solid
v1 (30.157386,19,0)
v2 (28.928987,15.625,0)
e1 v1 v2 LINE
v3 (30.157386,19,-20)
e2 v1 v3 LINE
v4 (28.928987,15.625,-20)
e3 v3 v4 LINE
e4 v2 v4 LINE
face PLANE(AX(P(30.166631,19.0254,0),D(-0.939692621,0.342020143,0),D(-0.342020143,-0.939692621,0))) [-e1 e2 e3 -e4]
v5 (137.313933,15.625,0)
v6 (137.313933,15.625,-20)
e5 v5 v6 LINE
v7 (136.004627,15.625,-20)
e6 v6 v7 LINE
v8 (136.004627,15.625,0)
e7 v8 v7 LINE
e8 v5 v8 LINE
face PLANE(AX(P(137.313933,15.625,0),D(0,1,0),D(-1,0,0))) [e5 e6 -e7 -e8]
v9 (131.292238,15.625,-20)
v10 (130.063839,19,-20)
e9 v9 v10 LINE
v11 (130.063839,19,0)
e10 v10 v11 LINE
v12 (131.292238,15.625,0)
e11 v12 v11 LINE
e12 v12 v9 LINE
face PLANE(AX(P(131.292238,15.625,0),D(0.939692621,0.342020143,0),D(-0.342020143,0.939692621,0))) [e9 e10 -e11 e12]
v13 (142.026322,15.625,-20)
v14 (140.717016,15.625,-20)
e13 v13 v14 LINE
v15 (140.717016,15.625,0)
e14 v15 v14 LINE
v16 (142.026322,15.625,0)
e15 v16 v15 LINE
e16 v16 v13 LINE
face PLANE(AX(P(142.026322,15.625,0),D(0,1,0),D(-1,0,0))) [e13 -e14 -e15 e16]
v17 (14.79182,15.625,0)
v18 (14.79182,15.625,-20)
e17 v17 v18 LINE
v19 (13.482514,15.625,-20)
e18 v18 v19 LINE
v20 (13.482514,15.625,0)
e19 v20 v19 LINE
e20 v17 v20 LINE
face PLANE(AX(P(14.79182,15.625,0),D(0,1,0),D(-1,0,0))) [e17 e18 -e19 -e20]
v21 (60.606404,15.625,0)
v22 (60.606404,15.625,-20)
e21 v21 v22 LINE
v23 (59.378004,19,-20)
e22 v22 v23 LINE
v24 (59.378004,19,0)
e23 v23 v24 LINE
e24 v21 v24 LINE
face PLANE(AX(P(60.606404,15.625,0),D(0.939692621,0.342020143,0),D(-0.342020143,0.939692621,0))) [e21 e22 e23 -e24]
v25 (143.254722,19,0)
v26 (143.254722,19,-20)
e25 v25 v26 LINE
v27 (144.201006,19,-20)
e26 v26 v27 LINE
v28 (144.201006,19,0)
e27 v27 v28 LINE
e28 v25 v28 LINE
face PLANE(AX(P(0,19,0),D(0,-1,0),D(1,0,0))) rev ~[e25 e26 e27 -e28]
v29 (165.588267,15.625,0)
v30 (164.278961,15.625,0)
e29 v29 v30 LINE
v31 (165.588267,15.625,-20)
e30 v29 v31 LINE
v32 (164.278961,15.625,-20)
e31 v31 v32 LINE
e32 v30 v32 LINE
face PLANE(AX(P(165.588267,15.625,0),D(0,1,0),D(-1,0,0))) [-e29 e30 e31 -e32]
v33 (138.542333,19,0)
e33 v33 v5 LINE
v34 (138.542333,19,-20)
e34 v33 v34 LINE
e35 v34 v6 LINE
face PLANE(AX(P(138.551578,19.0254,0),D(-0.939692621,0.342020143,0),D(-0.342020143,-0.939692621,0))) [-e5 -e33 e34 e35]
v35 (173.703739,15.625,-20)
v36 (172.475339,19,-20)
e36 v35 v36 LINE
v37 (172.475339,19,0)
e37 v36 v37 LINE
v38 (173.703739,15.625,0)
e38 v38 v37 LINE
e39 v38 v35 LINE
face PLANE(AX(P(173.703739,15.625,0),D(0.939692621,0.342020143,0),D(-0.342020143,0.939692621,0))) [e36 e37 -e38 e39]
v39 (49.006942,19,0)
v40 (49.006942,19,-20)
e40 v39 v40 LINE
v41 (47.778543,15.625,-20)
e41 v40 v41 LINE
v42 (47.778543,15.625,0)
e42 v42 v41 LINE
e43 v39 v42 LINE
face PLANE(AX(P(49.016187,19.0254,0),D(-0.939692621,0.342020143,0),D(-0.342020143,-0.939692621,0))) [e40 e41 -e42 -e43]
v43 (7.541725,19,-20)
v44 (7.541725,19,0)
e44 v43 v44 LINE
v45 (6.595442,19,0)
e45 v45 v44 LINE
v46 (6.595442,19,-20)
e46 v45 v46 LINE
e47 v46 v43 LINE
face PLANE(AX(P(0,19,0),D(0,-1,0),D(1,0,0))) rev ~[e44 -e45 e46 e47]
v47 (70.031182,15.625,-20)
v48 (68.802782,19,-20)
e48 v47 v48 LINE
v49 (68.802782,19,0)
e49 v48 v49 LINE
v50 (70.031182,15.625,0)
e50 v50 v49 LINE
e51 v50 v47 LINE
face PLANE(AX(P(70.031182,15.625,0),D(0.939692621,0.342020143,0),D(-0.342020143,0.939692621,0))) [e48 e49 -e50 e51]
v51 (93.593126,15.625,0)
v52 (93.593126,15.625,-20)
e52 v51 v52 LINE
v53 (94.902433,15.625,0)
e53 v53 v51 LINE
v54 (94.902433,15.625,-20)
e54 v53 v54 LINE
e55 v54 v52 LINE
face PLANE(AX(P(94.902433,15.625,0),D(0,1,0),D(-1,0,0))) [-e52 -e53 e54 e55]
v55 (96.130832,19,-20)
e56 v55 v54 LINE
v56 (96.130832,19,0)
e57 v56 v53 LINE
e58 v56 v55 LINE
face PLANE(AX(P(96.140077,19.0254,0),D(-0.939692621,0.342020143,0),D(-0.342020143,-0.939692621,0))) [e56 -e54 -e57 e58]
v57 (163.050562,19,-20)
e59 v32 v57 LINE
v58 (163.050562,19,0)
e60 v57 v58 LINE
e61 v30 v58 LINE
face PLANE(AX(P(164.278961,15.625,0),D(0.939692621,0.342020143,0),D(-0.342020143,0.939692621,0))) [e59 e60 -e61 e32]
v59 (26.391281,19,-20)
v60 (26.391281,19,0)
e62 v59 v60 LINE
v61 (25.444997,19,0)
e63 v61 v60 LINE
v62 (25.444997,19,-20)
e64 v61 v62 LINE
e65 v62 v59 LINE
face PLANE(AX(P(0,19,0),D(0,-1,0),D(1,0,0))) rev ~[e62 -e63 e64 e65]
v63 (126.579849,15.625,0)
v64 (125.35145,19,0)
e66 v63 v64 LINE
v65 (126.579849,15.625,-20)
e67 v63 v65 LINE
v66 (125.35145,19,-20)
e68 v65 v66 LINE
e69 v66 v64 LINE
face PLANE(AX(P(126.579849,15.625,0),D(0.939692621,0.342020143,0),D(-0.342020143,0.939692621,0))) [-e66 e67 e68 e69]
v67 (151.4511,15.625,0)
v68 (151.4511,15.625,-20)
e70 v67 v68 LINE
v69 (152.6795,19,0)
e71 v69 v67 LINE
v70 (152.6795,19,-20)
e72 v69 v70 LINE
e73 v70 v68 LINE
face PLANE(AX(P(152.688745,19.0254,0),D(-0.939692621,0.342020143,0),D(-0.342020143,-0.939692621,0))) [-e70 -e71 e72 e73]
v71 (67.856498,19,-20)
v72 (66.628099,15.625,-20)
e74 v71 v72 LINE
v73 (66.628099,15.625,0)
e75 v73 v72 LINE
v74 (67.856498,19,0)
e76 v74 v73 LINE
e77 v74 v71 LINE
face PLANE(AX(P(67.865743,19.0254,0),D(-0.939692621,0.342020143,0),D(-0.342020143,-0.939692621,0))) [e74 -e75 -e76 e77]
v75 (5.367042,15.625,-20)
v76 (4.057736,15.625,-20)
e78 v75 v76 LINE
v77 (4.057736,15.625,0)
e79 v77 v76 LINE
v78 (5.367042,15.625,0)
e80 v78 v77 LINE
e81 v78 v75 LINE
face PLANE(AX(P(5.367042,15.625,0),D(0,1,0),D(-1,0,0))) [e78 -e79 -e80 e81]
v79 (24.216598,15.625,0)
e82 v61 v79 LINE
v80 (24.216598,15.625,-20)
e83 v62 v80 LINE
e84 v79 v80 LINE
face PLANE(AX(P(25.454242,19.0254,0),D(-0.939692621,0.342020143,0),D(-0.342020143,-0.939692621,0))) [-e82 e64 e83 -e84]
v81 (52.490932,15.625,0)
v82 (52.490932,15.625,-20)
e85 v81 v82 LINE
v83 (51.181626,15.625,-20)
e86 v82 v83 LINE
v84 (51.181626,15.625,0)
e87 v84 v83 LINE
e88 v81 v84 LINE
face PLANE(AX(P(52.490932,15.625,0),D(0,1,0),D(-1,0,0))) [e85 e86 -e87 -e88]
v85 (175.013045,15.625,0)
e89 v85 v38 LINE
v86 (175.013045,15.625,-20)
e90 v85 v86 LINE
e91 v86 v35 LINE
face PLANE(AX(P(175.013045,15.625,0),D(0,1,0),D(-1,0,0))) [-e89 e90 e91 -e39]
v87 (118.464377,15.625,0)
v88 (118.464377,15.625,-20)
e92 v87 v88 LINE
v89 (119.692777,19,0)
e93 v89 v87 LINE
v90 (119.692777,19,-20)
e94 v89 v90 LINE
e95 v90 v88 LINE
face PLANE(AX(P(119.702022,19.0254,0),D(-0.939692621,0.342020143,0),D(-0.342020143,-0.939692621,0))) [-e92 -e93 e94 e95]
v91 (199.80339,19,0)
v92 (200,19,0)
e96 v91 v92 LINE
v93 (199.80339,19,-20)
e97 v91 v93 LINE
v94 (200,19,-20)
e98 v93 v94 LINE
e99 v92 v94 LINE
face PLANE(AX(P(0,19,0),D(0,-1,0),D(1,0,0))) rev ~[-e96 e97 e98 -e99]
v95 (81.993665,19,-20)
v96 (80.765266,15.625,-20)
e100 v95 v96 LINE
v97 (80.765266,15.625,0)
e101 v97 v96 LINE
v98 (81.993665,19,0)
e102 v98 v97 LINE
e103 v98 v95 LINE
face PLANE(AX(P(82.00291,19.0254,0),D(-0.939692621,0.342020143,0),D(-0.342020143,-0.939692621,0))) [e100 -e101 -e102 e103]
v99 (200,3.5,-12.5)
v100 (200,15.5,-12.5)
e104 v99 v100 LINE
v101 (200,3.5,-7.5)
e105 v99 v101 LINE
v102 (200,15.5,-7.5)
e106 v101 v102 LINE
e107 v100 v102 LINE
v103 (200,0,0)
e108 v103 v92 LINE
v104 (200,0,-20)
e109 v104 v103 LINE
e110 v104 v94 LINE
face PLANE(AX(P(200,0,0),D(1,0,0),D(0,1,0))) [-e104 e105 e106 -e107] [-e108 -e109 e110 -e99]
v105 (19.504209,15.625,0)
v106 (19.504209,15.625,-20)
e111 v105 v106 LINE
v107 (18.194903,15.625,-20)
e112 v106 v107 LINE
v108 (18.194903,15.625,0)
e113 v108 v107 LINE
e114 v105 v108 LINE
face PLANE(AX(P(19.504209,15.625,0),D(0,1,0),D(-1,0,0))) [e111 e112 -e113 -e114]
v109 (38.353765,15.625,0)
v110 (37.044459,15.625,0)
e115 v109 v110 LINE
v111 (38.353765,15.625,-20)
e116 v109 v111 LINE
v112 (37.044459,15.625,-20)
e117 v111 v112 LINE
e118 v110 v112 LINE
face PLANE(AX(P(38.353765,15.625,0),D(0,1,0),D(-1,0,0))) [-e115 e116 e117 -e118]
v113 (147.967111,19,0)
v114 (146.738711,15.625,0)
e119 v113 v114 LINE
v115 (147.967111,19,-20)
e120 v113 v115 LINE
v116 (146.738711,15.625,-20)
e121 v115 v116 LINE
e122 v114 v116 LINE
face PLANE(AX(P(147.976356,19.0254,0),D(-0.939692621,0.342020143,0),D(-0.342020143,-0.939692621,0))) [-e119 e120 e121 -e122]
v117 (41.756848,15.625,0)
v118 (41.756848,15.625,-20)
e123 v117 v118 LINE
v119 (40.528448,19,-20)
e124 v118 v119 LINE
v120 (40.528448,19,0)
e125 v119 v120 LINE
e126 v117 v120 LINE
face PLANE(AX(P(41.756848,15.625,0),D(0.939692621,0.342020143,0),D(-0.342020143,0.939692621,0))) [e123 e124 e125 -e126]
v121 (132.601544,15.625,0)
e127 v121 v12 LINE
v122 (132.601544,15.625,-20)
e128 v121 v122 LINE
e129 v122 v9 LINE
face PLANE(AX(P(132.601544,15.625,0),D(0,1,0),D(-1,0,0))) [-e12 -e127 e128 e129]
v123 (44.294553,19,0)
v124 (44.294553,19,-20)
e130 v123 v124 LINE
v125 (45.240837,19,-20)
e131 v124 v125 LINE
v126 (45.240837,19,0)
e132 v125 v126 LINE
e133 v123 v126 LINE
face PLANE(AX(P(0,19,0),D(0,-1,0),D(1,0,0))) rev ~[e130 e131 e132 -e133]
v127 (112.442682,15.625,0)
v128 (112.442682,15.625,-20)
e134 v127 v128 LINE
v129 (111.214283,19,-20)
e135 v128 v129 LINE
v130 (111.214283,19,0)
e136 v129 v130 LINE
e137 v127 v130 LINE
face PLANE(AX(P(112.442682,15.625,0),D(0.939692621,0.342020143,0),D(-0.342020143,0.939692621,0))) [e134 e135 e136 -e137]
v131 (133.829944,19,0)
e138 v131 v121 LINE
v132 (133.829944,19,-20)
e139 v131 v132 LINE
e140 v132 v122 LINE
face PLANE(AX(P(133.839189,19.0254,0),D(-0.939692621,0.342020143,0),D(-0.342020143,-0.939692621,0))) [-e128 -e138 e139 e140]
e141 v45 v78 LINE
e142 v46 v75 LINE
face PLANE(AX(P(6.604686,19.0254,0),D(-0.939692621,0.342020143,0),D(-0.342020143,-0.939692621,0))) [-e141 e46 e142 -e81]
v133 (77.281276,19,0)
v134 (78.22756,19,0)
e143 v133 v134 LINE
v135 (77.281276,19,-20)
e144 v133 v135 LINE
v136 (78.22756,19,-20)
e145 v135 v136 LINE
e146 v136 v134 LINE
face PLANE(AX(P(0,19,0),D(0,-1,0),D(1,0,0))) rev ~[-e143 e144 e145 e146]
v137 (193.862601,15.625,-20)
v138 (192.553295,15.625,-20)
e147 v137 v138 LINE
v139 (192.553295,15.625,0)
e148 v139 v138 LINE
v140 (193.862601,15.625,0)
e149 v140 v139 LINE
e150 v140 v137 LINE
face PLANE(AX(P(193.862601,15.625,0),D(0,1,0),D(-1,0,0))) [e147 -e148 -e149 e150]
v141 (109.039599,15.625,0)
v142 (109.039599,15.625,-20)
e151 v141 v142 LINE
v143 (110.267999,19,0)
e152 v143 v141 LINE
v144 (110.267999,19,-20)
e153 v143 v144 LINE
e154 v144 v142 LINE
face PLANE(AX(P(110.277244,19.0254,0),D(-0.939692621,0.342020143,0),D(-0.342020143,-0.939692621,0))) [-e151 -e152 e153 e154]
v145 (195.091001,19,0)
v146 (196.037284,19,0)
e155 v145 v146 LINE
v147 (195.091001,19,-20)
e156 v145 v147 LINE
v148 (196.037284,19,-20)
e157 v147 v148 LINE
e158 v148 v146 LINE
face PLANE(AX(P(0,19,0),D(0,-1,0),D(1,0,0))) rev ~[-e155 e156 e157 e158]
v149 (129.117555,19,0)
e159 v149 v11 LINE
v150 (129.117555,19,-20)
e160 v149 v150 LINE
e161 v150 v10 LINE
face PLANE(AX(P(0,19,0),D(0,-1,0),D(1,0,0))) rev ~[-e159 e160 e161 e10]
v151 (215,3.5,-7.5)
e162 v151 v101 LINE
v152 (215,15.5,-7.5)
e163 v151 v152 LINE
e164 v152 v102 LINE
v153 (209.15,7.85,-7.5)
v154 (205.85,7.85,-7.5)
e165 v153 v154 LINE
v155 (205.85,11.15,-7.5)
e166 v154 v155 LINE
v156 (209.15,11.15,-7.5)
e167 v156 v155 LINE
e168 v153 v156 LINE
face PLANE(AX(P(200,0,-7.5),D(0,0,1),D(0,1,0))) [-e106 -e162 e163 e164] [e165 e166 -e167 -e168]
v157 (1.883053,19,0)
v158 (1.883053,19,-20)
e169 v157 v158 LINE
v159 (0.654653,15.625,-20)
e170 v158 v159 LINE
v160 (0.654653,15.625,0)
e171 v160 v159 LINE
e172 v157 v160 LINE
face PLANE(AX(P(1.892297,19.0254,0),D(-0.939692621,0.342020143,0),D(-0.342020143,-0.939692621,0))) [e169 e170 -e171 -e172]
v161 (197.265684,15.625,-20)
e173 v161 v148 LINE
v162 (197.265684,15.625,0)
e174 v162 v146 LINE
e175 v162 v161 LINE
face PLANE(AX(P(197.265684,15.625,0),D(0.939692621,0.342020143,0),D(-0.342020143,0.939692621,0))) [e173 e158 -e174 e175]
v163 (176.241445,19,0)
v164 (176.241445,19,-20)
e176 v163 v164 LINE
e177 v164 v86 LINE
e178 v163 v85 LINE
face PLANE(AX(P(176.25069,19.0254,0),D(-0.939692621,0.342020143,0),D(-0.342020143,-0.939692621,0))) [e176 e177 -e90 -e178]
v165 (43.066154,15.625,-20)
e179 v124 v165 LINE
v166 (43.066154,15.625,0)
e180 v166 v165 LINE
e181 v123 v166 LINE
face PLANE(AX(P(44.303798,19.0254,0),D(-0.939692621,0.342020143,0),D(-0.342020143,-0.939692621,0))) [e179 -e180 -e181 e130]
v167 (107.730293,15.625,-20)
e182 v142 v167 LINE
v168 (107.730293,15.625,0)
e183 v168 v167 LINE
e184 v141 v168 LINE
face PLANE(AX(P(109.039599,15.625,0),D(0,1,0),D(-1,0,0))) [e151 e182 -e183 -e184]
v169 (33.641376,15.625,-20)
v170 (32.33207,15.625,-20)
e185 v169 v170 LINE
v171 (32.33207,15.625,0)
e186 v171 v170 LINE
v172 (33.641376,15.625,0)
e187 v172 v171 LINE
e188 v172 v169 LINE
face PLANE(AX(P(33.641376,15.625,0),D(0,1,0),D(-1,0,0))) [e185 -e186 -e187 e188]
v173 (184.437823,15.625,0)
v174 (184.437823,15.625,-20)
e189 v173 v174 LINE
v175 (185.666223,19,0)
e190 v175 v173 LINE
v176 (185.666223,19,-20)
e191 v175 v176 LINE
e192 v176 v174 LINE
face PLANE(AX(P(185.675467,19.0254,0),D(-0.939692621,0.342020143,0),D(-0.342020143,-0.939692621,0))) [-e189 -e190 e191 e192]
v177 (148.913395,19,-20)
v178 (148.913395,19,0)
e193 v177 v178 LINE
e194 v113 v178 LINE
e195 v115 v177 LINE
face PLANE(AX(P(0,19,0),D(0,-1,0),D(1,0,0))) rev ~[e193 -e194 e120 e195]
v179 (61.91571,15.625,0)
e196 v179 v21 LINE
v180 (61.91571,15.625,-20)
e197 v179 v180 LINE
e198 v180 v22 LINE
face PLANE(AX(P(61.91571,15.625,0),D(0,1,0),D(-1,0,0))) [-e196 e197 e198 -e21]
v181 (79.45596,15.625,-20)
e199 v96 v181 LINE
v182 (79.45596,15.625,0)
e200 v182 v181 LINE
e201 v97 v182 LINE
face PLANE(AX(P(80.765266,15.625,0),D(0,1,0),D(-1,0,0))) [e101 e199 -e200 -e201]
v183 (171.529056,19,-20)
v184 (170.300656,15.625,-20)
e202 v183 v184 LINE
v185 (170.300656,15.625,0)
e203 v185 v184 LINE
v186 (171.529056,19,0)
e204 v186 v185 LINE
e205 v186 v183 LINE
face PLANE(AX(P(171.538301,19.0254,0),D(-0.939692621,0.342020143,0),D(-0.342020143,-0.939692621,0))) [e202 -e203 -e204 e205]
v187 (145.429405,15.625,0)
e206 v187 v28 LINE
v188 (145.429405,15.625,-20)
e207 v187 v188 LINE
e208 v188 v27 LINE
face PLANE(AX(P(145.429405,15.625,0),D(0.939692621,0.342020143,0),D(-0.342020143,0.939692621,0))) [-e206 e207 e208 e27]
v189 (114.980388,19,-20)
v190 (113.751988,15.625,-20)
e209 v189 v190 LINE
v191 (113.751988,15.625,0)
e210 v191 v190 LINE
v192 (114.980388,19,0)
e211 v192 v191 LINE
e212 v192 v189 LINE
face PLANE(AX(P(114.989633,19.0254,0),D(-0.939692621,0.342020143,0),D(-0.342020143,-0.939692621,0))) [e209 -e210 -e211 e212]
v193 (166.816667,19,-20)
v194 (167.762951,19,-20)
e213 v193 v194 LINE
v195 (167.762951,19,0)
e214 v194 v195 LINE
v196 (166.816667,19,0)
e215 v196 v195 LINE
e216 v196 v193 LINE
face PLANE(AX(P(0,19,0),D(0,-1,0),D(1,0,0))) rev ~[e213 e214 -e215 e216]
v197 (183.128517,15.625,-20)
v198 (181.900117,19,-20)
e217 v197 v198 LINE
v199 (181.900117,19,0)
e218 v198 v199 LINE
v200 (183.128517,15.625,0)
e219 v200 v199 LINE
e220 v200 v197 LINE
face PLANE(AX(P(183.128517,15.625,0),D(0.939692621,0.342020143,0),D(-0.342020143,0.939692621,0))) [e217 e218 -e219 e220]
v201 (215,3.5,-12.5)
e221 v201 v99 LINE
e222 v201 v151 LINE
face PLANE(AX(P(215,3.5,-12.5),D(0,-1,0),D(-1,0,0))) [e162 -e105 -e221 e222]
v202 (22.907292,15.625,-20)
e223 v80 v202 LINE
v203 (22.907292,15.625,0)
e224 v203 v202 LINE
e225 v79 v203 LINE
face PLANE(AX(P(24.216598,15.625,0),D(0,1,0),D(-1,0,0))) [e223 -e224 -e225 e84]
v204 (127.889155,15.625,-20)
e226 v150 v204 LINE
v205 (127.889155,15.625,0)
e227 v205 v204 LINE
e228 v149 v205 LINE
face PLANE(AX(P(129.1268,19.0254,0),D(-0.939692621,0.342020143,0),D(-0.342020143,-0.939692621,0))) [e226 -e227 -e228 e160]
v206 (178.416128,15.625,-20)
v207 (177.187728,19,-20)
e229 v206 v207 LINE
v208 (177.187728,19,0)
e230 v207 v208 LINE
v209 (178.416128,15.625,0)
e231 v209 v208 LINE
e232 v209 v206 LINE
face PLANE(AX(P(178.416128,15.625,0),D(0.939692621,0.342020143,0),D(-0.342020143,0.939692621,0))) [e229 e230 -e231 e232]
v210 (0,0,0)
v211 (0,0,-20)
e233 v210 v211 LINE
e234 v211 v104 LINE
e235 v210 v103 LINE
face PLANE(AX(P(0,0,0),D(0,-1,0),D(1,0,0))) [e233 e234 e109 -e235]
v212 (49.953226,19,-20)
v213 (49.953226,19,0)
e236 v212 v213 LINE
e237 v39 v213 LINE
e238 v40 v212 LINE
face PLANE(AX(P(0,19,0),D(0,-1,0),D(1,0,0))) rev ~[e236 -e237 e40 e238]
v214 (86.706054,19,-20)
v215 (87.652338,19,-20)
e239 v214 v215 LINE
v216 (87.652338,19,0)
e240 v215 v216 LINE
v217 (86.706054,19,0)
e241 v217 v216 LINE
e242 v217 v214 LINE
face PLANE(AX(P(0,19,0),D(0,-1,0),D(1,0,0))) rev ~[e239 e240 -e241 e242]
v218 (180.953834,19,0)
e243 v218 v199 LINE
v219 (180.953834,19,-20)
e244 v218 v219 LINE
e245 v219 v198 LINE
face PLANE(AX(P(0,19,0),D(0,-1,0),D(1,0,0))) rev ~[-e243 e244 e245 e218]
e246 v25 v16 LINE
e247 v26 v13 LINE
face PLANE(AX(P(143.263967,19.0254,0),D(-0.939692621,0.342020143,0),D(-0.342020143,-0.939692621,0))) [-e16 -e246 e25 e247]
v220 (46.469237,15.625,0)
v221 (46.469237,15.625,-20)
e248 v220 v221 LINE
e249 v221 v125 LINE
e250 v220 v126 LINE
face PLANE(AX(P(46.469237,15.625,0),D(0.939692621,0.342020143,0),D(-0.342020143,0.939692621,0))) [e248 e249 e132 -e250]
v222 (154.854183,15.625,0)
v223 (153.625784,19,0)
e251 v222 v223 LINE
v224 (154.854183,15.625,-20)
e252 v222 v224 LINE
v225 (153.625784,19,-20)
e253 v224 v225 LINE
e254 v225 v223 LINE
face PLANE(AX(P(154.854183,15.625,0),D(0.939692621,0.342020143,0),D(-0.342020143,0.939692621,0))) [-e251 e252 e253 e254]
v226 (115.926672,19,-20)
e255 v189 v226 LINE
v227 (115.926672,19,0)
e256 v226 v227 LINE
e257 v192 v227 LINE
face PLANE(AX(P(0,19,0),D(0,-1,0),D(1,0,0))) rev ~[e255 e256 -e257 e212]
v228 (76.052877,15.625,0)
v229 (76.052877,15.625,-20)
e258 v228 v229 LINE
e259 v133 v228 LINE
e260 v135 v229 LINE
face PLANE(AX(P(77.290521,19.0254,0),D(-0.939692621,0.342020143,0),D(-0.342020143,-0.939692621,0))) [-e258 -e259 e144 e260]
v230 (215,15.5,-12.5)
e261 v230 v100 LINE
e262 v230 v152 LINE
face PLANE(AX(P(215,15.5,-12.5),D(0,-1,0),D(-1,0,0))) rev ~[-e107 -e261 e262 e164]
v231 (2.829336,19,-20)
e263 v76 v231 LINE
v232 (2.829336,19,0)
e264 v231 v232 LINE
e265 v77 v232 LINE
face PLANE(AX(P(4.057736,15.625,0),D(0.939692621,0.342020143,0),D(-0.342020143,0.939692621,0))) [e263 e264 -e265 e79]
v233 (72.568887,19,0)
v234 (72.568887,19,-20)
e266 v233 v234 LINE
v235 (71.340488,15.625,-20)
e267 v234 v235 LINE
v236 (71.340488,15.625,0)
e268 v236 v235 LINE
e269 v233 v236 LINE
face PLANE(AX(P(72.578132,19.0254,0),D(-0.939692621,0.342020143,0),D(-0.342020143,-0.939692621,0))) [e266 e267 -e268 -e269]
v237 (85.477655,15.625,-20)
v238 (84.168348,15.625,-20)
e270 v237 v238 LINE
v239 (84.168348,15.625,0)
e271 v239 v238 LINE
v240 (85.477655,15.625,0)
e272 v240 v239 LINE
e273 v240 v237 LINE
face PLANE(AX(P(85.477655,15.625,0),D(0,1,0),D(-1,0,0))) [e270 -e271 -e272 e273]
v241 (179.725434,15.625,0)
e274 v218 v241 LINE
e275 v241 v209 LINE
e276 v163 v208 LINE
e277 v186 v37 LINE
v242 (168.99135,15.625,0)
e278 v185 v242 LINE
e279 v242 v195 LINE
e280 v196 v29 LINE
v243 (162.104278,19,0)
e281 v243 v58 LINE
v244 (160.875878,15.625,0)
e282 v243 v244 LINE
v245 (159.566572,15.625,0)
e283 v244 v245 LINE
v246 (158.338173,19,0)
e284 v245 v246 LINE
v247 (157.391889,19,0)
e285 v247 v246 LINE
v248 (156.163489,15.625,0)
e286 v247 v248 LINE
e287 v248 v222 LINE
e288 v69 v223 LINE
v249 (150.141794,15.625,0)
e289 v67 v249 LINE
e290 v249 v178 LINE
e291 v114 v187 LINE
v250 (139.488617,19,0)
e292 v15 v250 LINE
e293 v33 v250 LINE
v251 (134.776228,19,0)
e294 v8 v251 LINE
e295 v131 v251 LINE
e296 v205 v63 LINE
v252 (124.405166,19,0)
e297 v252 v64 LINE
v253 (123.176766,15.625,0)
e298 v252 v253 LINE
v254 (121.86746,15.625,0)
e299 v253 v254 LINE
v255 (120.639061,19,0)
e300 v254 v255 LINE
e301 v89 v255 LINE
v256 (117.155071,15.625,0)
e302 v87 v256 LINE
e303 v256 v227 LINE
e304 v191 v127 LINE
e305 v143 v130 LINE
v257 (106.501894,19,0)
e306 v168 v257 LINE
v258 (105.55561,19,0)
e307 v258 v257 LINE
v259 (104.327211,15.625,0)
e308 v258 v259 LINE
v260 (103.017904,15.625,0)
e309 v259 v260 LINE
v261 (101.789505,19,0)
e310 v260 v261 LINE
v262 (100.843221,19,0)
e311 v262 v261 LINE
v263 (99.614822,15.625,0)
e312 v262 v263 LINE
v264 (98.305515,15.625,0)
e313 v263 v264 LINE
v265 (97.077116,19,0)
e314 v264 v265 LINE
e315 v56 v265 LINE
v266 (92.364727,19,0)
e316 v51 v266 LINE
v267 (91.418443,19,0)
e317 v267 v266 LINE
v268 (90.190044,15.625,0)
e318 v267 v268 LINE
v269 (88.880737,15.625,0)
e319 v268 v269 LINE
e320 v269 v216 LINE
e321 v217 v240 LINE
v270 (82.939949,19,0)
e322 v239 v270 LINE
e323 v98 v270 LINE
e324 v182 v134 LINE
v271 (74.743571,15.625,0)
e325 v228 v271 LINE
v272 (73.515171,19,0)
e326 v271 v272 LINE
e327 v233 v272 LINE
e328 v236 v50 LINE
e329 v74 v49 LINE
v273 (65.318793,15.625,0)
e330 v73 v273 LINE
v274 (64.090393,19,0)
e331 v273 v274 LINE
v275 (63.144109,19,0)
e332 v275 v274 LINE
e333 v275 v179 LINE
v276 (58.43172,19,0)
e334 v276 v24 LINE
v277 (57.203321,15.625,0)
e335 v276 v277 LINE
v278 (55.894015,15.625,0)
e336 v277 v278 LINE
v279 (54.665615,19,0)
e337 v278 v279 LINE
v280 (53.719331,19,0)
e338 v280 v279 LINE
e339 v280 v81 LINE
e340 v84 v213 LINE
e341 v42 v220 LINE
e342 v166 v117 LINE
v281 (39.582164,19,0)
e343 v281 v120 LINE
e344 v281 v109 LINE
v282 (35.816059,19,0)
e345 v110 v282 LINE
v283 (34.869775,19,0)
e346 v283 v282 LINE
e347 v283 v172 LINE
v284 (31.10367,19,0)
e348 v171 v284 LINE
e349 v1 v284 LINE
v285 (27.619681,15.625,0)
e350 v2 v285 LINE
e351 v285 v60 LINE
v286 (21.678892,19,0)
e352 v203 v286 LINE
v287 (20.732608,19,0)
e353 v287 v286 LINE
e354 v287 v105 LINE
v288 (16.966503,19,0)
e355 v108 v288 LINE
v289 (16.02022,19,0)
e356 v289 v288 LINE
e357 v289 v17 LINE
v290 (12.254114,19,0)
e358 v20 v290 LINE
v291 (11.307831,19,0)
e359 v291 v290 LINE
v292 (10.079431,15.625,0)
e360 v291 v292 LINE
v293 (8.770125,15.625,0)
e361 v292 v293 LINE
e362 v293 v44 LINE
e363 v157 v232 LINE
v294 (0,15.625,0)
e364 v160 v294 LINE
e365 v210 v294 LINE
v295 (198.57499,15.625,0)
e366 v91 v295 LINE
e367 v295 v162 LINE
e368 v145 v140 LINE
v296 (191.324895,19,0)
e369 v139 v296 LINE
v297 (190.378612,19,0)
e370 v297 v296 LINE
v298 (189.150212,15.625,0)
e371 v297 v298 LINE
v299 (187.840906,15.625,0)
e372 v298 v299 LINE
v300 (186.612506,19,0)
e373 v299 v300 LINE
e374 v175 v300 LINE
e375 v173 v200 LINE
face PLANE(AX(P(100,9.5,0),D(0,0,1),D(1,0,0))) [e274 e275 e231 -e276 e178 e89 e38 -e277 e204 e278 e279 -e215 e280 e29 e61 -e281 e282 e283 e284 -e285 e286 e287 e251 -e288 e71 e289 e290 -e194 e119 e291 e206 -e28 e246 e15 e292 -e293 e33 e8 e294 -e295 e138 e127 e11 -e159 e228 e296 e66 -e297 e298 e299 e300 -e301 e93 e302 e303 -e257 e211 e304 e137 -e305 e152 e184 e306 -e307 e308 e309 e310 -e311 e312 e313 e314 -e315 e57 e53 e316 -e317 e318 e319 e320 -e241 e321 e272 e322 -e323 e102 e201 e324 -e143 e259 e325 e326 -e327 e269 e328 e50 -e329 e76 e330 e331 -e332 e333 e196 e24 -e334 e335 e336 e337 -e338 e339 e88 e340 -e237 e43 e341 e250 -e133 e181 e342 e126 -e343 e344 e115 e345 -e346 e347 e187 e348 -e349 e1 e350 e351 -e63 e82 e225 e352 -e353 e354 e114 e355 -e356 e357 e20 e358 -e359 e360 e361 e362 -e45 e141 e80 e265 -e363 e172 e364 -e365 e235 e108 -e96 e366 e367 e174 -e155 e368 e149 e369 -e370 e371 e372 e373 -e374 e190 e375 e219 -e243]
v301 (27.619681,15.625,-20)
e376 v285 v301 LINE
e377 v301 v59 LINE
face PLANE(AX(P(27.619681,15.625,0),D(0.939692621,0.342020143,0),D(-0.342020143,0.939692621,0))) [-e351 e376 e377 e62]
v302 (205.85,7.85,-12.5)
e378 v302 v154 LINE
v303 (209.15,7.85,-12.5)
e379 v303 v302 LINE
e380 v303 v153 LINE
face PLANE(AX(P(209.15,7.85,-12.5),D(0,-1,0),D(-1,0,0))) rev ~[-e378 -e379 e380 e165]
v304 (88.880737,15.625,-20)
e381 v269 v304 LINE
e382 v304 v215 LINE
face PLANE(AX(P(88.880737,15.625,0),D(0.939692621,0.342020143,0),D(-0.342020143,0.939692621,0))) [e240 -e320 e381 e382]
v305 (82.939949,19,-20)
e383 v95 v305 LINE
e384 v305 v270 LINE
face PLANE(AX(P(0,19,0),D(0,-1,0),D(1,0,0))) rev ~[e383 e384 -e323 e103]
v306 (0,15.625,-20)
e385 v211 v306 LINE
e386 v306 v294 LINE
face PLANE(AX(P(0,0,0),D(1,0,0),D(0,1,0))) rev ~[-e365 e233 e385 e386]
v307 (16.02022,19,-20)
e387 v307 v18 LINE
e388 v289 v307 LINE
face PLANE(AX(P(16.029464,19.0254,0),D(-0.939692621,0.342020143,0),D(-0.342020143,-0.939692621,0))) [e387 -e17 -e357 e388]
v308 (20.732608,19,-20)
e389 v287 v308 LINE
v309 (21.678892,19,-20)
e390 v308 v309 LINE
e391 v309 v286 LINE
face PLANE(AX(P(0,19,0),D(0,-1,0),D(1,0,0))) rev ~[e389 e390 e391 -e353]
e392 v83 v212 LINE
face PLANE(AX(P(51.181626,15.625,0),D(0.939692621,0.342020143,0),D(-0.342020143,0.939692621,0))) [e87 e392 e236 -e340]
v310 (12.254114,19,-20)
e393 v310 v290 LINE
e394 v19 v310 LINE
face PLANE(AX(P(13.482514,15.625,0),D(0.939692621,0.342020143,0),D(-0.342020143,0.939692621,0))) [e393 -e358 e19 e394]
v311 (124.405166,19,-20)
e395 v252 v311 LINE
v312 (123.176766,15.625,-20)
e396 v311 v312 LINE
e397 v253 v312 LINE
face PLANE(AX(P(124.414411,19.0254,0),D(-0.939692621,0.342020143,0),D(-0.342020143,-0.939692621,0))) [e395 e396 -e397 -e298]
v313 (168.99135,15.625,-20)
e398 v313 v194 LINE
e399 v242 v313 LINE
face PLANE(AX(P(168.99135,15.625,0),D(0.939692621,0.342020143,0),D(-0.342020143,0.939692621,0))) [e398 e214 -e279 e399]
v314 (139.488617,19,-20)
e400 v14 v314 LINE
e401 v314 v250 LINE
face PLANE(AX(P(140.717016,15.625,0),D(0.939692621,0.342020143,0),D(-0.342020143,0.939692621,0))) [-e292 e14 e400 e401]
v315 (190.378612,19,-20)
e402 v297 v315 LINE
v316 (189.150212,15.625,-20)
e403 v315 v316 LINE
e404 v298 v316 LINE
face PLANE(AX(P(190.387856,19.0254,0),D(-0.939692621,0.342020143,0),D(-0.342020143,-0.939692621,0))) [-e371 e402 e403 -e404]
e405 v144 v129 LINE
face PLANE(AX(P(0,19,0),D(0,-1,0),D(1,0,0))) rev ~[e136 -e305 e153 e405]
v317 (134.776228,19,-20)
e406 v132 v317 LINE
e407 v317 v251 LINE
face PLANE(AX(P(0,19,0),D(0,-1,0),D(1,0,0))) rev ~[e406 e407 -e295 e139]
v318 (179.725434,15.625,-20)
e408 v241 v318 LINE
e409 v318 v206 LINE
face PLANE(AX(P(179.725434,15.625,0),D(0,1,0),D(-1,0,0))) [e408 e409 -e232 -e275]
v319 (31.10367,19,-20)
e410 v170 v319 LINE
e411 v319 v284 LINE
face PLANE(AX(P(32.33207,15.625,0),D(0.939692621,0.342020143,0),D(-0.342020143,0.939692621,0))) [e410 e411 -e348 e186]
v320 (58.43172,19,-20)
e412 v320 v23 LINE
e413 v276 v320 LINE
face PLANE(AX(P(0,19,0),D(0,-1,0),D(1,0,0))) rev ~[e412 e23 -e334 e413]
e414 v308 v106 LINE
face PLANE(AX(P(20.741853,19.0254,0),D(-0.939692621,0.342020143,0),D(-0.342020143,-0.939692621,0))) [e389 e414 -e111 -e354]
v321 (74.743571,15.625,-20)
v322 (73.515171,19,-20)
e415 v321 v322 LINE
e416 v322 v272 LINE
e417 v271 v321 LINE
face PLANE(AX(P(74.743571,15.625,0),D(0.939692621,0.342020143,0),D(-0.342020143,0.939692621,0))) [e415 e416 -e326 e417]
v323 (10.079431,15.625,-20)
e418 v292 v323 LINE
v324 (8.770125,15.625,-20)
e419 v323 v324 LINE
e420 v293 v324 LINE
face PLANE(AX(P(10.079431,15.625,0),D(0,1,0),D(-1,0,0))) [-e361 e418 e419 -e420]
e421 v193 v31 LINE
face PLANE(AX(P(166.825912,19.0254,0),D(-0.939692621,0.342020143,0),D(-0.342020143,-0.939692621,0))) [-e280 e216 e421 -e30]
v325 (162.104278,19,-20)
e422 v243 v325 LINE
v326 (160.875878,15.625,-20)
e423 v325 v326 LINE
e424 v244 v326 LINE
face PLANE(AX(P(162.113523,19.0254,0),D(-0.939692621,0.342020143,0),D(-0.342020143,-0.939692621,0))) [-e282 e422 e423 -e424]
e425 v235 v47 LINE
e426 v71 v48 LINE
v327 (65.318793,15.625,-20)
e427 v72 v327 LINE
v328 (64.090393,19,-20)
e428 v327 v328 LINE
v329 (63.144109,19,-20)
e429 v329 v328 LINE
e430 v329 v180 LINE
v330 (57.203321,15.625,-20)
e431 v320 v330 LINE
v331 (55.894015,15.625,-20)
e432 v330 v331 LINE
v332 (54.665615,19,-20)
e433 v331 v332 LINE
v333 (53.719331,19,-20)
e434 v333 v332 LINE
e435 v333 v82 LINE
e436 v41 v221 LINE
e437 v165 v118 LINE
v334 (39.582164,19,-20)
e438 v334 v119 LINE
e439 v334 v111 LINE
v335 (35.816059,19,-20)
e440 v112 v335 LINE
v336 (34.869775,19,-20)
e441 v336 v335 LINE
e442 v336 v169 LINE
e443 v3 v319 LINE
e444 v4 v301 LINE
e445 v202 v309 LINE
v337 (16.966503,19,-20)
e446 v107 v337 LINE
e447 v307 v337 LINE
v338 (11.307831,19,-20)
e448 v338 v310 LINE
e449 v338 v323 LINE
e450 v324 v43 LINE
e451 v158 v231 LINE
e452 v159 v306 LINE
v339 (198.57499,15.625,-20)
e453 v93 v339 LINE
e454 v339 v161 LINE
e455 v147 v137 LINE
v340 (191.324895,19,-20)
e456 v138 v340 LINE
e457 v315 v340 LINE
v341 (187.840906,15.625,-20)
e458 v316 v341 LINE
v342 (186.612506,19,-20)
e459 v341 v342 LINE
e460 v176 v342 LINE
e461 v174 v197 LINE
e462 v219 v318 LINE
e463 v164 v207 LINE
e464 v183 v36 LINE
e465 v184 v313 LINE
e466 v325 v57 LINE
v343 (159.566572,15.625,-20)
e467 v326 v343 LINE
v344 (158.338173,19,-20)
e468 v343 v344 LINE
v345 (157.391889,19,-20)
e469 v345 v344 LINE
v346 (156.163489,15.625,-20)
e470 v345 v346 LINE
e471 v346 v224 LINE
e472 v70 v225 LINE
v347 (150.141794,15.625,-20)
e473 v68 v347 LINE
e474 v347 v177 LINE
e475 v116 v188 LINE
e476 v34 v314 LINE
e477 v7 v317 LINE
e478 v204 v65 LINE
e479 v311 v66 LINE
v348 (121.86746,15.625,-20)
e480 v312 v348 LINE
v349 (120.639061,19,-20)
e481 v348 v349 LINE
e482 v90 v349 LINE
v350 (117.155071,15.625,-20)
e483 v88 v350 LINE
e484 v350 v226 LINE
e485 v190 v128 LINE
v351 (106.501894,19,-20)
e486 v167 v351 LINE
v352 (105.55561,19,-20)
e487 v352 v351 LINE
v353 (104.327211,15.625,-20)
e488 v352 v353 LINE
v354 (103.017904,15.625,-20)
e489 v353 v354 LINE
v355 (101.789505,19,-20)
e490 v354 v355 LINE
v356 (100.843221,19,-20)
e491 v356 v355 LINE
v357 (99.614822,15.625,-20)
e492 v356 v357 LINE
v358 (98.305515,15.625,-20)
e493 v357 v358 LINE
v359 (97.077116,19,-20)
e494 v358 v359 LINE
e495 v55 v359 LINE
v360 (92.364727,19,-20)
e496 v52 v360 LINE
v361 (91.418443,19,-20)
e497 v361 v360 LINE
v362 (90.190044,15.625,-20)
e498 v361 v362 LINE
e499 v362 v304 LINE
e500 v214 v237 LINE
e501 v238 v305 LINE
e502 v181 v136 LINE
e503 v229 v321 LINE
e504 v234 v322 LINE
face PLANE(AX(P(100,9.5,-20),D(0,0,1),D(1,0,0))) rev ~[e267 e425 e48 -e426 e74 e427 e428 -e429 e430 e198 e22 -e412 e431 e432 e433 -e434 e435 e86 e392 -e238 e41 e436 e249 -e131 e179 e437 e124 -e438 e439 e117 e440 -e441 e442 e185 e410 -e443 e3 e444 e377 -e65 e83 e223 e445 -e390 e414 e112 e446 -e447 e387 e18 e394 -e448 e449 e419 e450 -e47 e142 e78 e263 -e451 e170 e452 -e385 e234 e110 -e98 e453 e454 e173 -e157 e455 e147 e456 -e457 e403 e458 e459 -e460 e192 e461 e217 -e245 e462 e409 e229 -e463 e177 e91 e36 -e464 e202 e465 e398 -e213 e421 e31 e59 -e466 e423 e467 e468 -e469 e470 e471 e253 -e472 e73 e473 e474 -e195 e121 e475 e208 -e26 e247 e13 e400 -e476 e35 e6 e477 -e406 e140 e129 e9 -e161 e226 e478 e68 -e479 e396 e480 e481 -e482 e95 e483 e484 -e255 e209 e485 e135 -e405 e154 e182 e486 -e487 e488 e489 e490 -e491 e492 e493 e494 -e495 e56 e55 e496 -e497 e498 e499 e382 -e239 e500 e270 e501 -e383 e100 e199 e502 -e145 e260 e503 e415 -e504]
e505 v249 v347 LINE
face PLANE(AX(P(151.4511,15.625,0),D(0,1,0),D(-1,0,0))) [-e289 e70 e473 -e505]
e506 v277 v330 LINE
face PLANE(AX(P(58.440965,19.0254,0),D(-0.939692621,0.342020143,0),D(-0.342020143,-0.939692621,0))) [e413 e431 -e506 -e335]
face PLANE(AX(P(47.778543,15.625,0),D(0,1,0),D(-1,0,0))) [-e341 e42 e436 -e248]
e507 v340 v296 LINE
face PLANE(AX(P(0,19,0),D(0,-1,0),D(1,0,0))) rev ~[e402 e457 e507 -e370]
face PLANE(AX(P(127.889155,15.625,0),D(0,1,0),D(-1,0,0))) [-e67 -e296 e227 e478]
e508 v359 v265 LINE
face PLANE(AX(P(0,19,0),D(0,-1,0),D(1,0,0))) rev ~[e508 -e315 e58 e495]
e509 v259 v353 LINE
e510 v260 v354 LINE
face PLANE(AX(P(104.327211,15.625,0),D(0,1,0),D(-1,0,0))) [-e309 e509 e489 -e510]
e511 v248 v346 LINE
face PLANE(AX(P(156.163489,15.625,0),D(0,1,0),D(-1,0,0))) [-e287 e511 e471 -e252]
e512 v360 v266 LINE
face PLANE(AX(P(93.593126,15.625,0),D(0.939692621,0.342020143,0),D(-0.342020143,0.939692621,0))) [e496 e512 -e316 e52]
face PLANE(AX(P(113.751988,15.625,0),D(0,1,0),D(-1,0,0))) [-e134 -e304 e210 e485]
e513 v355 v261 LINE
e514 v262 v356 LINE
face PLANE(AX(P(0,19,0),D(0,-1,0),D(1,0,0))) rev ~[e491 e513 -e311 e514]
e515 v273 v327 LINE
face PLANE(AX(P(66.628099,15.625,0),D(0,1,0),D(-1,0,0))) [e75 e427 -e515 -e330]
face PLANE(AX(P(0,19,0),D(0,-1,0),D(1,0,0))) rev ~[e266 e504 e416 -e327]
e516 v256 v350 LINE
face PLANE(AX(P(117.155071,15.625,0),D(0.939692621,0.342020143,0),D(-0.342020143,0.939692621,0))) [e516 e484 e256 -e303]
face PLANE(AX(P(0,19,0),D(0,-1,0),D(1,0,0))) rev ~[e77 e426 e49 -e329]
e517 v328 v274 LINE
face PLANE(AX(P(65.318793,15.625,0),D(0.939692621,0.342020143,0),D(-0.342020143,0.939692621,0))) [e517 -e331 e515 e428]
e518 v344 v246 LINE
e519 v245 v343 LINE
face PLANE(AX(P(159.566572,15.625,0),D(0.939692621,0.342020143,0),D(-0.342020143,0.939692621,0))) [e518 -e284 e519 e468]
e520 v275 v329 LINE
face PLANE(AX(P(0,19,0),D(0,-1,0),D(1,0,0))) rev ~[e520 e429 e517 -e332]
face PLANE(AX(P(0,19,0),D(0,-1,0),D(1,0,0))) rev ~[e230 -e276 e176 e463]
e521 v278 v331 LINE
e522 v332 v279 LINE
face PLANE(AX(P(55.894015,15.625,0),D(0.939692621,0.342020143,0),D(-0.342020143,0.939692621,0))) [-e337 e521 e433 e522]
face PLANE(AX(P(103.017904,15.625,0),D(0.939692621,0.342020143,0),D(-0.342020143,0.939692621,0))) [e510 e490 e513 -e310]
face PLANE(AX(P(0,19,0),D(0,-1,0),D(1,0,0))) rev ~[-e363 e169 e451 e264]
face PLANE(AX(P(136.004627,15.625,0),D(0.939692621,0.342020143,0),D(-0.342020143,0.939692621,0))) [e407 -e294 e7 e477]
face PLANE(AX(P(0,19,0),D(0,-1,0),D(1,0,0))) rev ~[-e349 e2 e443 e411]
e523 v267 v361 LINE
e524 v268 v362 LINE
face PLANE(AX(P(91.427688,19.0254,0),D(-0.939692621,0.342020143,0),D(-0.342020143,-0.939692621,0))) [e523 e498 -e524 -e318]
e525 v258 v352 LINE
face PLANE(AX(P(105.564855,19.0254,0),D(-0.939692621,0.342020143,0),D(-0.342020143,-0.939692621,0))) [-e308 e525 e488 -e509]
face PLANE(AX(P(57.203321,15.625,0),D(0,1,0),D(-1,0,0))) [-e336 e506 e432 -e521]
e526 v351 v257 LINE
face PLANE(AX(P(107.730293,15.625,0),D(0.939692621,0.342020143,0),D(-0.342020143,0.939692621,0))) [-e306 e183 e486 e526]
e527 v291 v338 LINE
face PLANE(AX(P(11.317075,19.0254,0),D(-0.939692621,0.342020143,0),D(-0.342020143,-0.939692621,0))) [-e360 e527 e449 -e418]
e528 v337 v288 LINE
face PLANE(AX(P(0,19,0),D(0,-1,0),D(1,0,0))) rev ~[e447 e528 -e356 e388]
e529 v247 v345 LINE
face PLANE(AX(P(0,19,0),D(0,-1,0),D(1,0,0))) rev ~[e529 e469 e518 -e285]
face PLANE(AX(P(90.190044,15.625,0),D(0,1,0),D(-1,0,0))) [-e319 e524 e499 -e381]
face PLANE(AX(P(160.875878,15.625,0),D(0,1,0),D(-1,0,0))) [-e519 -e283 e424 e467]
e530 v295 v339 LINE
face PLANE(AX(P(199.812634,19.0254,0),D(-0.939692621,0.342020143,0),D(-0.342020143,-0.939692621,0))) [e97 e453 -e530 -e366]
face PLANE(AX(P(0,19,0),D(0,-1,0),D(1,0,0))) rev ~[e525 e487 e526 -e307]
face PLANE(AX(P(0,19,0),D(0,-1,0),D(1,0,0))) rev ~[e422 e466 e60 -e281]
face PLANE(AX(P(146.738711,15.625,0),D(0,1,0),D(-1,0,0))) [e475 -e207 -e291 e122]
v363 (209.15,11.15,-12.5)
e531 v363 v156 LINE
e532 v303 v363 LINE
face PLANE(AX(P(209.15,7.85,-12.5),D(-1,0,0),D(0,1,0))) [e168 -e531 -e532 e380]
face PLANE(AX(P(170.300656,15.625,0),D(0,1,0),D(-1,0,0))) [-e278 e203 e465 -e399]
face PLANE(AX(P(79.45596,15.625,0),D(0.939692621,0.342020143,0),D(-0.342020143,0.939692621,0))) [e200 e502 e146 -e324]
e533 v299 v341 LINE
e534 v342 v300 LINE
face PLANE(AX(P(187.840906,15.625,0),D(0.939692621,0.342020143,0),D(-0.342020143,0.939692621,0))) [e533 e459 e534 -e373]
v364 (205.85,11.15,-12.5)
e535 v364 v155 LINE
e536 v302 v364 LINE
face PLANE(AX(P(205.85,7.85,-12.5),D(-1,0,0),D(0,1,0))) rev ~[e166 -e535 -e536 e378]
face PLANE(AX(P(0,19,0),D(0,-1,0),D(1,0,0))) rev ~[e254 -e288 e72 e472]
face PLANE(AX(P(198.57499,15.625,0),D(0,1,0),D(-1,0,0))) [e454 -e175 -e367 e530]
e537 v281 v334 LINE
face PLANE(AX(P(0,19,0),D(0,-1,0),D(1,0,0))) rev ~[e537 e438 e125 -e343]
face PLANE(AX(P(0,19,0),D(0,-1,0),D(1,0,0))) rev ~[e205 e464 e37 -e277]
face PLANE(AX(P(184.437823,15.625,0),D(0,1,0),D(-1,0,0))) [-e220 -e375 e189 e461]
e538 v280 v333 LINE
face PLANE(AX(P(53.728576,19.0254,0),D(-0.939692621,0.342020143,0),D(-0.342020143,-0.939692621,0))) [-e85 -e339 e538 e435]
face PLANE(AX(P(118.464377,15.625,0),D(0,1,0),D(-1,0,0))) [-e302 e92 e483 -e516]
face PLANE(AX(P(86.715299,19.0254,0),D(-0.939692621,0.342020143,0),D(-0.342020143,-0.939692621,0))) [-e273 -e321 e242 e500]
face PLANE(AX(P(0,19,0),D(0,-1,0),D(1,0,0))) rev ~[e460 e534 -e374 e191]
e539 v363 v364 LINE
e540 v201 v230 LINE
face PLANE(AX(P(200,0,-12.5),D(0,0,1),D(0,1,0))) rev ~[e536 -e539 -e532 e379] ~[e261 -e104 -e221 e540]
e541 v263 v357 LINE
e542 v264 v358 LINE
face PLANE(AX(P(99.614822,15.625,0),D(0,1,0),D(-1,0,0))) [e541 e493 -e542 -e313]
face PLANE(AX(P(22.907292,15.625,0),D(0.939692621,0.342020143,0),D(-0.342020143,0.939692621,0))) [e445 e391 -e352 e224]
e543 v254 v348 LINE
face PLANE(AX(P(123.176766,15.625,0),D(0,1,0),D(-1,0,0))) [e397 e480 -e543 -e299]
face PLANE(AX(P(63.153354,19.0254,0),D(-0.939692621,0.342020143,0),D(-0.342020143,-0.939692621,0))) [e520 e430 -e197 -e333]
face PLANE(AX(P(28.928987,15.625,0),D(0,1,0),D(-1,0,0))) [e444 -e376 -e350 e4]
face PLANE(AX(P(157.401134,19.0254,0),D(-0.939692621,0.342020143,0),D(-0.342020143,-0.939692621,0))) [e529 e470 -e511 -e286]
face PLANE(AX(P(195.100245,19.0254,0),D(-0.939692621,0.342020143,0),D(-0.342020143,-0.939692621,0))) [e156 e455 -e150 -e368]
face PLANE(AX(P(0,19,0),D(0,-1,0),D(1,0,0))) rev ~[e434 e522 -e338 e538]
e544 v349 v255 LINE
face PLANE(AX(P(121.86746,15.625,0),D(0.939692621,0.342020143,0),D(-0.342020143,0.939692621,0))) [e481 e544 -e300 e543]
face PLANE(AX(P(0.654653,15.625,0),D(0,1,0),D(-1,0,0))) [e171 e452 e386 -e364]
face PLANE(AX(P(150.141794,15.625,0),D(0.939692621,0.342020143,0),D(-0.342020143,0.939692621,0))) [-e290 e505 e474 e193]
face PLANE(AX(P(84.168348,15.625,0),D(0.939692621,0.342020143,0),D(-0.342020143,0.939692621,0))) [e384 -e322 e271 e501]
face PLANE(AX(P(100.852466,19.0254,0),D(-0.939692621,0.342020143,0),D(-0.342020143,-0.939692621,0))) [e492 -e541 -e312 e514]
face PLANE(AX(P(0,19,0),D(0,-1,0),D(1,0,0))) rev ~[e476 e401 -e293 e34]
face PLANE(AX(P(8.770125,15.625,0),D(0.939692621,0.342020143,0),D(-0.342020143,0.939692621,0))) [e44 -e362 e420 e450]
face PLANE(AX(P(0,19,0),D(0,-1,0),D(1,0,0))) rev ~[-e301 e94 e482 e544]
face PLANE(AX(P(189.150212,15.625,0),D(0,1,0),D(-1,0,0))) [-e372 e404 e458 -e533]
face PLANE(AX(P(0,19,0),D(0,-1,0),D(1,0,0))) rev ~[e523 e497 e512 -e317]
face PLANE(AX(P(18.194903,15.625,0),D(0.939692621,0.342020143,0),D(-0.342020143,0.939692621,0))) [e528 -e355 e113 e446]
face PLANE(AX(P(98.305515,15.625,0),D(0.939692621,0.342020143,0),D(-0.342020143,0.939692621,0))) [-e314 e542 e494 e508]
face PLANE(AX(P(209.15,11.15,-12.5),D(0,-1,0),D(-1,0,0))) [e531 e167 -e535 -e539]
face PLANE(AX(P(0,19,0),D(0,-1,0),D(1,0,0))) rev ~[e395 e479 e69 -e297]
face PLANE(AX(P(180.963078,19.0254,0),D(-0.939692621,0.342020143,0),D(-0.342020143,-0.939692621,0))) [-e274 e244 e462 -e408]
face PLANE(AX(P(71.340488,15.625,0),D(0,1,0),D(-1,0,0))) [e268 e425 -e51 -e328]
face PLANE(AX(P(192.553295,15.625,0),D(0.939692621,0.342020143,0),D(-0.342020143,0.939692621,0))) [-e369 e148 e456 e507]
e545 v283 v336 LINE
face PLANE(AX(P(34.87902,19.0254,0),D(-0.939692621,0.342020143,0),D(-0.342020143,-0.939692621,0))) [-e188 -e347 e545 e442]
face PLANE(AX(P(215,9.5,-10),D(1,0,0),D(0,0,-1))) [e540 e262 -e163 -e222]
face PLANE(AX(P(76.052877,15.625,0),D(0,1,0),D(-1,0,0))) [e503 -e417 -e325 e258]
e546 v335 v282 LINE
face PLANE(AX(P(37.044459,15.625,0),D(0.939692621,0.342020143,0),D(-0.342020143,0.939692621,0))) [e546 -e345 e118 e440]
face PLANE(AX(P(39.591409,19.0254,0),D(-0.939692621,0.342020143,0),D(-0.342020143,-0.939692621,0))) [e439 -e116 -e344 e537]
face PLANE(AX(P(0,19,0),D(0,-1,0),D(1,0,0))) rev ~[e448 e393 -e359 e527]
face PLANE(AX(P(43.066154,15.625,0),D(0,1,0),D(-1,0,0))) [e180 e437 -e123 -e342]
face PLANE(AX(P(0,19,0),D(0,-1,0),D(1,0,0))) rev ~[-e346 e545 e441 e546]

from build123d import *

# Parameters (mm, degrees)
BLANKSKE_W          = 200
BLANKSKE_H          = 19
BLANK_DEPTH         = 20
TOOTHCUTSIM_DEPTH   = 202.893536301
TEETHCUTS_COUNT     = 43
TEETHCUTS_PITCH     = 4.712388975
SKETCH1_W           = 5
SKETCH1_H           = 19
BOSS_EXTRUDE1_DEPTH = 15
SKETCH2_W           = 15
SKETCH2_H           = 3.5
SKETCH2_W_2         = 3.3
SKETCH2_H_2         = 3.3
CUT_EXTRUDE1_DEPTH  = 5


with BuildPart() as part:
    # BlankSke → Blank (new body)
    with BuildSketch(Plane.XY):
        with Locations((100, 9.5)):
            Rectangle(BLANKSKE_W, BLANKSKE_H)
    extrude(amount=-BLANK_DEPTH)

    # TooCutSkeSim → ToothCutSim (cut, through all)
    with BuildSketch(Plane.XY):
        Polygon((0.654653055, 15.625), (-0.654653055, 15.625), (-1.892297439, 19.0254), (1.892297439, 19.0254), align=None)
    toothcutsim = extrude(amount=-TOOTHCUTSIM_DEPTH, mode=Mode.SUBTRACT)

    # TeethCuts: ToothCutSim ×43
    with Locations(*[(i * TEETHCUTS_PITCH, 0, 0) for i in range(1, TEETHCUTS_COUNT)]):
        add(toothcutsim, mode=Mode.SUBTRACT)

    # Sketch1 → Boss-Extrude1 (add)
    with BuildSketch(Plane(origin=(200, 0, 0), x_dir=(0, 0, -1), z_dir=(1, 0, 0))):
        with Locations((10, 9.5)):
            Rectangle(SKETCH1_W, SKETCH1_H)
    extrude(amount=BOSS_EXTRUDE1_DEPTH)

    # Sketch2 → Cut-Extrude1 (cut)
    with BuildSketch(Plane(origin=(0, 0, -12.5), x_dir=(-1, 0, 0), z_dir=(0, 0, -1))):
        with Locations((-207.5, 17.25)):
            Rectangle(SKETCH2_W, SKETCH2_H)
        with Locations((-207.5, 1.75)):
            Rectangle(SKETCH2_W, SKETCH2_H)
        with Locations((-207.5, 9.5)):
            Rectangle(SKETCH2_W_2, SKETCH2_H_2)
    extrude(amount=-CUT_EXTRUDE1_DEPTH, mode=Mode.SUBTRACT)


solid = part.part
